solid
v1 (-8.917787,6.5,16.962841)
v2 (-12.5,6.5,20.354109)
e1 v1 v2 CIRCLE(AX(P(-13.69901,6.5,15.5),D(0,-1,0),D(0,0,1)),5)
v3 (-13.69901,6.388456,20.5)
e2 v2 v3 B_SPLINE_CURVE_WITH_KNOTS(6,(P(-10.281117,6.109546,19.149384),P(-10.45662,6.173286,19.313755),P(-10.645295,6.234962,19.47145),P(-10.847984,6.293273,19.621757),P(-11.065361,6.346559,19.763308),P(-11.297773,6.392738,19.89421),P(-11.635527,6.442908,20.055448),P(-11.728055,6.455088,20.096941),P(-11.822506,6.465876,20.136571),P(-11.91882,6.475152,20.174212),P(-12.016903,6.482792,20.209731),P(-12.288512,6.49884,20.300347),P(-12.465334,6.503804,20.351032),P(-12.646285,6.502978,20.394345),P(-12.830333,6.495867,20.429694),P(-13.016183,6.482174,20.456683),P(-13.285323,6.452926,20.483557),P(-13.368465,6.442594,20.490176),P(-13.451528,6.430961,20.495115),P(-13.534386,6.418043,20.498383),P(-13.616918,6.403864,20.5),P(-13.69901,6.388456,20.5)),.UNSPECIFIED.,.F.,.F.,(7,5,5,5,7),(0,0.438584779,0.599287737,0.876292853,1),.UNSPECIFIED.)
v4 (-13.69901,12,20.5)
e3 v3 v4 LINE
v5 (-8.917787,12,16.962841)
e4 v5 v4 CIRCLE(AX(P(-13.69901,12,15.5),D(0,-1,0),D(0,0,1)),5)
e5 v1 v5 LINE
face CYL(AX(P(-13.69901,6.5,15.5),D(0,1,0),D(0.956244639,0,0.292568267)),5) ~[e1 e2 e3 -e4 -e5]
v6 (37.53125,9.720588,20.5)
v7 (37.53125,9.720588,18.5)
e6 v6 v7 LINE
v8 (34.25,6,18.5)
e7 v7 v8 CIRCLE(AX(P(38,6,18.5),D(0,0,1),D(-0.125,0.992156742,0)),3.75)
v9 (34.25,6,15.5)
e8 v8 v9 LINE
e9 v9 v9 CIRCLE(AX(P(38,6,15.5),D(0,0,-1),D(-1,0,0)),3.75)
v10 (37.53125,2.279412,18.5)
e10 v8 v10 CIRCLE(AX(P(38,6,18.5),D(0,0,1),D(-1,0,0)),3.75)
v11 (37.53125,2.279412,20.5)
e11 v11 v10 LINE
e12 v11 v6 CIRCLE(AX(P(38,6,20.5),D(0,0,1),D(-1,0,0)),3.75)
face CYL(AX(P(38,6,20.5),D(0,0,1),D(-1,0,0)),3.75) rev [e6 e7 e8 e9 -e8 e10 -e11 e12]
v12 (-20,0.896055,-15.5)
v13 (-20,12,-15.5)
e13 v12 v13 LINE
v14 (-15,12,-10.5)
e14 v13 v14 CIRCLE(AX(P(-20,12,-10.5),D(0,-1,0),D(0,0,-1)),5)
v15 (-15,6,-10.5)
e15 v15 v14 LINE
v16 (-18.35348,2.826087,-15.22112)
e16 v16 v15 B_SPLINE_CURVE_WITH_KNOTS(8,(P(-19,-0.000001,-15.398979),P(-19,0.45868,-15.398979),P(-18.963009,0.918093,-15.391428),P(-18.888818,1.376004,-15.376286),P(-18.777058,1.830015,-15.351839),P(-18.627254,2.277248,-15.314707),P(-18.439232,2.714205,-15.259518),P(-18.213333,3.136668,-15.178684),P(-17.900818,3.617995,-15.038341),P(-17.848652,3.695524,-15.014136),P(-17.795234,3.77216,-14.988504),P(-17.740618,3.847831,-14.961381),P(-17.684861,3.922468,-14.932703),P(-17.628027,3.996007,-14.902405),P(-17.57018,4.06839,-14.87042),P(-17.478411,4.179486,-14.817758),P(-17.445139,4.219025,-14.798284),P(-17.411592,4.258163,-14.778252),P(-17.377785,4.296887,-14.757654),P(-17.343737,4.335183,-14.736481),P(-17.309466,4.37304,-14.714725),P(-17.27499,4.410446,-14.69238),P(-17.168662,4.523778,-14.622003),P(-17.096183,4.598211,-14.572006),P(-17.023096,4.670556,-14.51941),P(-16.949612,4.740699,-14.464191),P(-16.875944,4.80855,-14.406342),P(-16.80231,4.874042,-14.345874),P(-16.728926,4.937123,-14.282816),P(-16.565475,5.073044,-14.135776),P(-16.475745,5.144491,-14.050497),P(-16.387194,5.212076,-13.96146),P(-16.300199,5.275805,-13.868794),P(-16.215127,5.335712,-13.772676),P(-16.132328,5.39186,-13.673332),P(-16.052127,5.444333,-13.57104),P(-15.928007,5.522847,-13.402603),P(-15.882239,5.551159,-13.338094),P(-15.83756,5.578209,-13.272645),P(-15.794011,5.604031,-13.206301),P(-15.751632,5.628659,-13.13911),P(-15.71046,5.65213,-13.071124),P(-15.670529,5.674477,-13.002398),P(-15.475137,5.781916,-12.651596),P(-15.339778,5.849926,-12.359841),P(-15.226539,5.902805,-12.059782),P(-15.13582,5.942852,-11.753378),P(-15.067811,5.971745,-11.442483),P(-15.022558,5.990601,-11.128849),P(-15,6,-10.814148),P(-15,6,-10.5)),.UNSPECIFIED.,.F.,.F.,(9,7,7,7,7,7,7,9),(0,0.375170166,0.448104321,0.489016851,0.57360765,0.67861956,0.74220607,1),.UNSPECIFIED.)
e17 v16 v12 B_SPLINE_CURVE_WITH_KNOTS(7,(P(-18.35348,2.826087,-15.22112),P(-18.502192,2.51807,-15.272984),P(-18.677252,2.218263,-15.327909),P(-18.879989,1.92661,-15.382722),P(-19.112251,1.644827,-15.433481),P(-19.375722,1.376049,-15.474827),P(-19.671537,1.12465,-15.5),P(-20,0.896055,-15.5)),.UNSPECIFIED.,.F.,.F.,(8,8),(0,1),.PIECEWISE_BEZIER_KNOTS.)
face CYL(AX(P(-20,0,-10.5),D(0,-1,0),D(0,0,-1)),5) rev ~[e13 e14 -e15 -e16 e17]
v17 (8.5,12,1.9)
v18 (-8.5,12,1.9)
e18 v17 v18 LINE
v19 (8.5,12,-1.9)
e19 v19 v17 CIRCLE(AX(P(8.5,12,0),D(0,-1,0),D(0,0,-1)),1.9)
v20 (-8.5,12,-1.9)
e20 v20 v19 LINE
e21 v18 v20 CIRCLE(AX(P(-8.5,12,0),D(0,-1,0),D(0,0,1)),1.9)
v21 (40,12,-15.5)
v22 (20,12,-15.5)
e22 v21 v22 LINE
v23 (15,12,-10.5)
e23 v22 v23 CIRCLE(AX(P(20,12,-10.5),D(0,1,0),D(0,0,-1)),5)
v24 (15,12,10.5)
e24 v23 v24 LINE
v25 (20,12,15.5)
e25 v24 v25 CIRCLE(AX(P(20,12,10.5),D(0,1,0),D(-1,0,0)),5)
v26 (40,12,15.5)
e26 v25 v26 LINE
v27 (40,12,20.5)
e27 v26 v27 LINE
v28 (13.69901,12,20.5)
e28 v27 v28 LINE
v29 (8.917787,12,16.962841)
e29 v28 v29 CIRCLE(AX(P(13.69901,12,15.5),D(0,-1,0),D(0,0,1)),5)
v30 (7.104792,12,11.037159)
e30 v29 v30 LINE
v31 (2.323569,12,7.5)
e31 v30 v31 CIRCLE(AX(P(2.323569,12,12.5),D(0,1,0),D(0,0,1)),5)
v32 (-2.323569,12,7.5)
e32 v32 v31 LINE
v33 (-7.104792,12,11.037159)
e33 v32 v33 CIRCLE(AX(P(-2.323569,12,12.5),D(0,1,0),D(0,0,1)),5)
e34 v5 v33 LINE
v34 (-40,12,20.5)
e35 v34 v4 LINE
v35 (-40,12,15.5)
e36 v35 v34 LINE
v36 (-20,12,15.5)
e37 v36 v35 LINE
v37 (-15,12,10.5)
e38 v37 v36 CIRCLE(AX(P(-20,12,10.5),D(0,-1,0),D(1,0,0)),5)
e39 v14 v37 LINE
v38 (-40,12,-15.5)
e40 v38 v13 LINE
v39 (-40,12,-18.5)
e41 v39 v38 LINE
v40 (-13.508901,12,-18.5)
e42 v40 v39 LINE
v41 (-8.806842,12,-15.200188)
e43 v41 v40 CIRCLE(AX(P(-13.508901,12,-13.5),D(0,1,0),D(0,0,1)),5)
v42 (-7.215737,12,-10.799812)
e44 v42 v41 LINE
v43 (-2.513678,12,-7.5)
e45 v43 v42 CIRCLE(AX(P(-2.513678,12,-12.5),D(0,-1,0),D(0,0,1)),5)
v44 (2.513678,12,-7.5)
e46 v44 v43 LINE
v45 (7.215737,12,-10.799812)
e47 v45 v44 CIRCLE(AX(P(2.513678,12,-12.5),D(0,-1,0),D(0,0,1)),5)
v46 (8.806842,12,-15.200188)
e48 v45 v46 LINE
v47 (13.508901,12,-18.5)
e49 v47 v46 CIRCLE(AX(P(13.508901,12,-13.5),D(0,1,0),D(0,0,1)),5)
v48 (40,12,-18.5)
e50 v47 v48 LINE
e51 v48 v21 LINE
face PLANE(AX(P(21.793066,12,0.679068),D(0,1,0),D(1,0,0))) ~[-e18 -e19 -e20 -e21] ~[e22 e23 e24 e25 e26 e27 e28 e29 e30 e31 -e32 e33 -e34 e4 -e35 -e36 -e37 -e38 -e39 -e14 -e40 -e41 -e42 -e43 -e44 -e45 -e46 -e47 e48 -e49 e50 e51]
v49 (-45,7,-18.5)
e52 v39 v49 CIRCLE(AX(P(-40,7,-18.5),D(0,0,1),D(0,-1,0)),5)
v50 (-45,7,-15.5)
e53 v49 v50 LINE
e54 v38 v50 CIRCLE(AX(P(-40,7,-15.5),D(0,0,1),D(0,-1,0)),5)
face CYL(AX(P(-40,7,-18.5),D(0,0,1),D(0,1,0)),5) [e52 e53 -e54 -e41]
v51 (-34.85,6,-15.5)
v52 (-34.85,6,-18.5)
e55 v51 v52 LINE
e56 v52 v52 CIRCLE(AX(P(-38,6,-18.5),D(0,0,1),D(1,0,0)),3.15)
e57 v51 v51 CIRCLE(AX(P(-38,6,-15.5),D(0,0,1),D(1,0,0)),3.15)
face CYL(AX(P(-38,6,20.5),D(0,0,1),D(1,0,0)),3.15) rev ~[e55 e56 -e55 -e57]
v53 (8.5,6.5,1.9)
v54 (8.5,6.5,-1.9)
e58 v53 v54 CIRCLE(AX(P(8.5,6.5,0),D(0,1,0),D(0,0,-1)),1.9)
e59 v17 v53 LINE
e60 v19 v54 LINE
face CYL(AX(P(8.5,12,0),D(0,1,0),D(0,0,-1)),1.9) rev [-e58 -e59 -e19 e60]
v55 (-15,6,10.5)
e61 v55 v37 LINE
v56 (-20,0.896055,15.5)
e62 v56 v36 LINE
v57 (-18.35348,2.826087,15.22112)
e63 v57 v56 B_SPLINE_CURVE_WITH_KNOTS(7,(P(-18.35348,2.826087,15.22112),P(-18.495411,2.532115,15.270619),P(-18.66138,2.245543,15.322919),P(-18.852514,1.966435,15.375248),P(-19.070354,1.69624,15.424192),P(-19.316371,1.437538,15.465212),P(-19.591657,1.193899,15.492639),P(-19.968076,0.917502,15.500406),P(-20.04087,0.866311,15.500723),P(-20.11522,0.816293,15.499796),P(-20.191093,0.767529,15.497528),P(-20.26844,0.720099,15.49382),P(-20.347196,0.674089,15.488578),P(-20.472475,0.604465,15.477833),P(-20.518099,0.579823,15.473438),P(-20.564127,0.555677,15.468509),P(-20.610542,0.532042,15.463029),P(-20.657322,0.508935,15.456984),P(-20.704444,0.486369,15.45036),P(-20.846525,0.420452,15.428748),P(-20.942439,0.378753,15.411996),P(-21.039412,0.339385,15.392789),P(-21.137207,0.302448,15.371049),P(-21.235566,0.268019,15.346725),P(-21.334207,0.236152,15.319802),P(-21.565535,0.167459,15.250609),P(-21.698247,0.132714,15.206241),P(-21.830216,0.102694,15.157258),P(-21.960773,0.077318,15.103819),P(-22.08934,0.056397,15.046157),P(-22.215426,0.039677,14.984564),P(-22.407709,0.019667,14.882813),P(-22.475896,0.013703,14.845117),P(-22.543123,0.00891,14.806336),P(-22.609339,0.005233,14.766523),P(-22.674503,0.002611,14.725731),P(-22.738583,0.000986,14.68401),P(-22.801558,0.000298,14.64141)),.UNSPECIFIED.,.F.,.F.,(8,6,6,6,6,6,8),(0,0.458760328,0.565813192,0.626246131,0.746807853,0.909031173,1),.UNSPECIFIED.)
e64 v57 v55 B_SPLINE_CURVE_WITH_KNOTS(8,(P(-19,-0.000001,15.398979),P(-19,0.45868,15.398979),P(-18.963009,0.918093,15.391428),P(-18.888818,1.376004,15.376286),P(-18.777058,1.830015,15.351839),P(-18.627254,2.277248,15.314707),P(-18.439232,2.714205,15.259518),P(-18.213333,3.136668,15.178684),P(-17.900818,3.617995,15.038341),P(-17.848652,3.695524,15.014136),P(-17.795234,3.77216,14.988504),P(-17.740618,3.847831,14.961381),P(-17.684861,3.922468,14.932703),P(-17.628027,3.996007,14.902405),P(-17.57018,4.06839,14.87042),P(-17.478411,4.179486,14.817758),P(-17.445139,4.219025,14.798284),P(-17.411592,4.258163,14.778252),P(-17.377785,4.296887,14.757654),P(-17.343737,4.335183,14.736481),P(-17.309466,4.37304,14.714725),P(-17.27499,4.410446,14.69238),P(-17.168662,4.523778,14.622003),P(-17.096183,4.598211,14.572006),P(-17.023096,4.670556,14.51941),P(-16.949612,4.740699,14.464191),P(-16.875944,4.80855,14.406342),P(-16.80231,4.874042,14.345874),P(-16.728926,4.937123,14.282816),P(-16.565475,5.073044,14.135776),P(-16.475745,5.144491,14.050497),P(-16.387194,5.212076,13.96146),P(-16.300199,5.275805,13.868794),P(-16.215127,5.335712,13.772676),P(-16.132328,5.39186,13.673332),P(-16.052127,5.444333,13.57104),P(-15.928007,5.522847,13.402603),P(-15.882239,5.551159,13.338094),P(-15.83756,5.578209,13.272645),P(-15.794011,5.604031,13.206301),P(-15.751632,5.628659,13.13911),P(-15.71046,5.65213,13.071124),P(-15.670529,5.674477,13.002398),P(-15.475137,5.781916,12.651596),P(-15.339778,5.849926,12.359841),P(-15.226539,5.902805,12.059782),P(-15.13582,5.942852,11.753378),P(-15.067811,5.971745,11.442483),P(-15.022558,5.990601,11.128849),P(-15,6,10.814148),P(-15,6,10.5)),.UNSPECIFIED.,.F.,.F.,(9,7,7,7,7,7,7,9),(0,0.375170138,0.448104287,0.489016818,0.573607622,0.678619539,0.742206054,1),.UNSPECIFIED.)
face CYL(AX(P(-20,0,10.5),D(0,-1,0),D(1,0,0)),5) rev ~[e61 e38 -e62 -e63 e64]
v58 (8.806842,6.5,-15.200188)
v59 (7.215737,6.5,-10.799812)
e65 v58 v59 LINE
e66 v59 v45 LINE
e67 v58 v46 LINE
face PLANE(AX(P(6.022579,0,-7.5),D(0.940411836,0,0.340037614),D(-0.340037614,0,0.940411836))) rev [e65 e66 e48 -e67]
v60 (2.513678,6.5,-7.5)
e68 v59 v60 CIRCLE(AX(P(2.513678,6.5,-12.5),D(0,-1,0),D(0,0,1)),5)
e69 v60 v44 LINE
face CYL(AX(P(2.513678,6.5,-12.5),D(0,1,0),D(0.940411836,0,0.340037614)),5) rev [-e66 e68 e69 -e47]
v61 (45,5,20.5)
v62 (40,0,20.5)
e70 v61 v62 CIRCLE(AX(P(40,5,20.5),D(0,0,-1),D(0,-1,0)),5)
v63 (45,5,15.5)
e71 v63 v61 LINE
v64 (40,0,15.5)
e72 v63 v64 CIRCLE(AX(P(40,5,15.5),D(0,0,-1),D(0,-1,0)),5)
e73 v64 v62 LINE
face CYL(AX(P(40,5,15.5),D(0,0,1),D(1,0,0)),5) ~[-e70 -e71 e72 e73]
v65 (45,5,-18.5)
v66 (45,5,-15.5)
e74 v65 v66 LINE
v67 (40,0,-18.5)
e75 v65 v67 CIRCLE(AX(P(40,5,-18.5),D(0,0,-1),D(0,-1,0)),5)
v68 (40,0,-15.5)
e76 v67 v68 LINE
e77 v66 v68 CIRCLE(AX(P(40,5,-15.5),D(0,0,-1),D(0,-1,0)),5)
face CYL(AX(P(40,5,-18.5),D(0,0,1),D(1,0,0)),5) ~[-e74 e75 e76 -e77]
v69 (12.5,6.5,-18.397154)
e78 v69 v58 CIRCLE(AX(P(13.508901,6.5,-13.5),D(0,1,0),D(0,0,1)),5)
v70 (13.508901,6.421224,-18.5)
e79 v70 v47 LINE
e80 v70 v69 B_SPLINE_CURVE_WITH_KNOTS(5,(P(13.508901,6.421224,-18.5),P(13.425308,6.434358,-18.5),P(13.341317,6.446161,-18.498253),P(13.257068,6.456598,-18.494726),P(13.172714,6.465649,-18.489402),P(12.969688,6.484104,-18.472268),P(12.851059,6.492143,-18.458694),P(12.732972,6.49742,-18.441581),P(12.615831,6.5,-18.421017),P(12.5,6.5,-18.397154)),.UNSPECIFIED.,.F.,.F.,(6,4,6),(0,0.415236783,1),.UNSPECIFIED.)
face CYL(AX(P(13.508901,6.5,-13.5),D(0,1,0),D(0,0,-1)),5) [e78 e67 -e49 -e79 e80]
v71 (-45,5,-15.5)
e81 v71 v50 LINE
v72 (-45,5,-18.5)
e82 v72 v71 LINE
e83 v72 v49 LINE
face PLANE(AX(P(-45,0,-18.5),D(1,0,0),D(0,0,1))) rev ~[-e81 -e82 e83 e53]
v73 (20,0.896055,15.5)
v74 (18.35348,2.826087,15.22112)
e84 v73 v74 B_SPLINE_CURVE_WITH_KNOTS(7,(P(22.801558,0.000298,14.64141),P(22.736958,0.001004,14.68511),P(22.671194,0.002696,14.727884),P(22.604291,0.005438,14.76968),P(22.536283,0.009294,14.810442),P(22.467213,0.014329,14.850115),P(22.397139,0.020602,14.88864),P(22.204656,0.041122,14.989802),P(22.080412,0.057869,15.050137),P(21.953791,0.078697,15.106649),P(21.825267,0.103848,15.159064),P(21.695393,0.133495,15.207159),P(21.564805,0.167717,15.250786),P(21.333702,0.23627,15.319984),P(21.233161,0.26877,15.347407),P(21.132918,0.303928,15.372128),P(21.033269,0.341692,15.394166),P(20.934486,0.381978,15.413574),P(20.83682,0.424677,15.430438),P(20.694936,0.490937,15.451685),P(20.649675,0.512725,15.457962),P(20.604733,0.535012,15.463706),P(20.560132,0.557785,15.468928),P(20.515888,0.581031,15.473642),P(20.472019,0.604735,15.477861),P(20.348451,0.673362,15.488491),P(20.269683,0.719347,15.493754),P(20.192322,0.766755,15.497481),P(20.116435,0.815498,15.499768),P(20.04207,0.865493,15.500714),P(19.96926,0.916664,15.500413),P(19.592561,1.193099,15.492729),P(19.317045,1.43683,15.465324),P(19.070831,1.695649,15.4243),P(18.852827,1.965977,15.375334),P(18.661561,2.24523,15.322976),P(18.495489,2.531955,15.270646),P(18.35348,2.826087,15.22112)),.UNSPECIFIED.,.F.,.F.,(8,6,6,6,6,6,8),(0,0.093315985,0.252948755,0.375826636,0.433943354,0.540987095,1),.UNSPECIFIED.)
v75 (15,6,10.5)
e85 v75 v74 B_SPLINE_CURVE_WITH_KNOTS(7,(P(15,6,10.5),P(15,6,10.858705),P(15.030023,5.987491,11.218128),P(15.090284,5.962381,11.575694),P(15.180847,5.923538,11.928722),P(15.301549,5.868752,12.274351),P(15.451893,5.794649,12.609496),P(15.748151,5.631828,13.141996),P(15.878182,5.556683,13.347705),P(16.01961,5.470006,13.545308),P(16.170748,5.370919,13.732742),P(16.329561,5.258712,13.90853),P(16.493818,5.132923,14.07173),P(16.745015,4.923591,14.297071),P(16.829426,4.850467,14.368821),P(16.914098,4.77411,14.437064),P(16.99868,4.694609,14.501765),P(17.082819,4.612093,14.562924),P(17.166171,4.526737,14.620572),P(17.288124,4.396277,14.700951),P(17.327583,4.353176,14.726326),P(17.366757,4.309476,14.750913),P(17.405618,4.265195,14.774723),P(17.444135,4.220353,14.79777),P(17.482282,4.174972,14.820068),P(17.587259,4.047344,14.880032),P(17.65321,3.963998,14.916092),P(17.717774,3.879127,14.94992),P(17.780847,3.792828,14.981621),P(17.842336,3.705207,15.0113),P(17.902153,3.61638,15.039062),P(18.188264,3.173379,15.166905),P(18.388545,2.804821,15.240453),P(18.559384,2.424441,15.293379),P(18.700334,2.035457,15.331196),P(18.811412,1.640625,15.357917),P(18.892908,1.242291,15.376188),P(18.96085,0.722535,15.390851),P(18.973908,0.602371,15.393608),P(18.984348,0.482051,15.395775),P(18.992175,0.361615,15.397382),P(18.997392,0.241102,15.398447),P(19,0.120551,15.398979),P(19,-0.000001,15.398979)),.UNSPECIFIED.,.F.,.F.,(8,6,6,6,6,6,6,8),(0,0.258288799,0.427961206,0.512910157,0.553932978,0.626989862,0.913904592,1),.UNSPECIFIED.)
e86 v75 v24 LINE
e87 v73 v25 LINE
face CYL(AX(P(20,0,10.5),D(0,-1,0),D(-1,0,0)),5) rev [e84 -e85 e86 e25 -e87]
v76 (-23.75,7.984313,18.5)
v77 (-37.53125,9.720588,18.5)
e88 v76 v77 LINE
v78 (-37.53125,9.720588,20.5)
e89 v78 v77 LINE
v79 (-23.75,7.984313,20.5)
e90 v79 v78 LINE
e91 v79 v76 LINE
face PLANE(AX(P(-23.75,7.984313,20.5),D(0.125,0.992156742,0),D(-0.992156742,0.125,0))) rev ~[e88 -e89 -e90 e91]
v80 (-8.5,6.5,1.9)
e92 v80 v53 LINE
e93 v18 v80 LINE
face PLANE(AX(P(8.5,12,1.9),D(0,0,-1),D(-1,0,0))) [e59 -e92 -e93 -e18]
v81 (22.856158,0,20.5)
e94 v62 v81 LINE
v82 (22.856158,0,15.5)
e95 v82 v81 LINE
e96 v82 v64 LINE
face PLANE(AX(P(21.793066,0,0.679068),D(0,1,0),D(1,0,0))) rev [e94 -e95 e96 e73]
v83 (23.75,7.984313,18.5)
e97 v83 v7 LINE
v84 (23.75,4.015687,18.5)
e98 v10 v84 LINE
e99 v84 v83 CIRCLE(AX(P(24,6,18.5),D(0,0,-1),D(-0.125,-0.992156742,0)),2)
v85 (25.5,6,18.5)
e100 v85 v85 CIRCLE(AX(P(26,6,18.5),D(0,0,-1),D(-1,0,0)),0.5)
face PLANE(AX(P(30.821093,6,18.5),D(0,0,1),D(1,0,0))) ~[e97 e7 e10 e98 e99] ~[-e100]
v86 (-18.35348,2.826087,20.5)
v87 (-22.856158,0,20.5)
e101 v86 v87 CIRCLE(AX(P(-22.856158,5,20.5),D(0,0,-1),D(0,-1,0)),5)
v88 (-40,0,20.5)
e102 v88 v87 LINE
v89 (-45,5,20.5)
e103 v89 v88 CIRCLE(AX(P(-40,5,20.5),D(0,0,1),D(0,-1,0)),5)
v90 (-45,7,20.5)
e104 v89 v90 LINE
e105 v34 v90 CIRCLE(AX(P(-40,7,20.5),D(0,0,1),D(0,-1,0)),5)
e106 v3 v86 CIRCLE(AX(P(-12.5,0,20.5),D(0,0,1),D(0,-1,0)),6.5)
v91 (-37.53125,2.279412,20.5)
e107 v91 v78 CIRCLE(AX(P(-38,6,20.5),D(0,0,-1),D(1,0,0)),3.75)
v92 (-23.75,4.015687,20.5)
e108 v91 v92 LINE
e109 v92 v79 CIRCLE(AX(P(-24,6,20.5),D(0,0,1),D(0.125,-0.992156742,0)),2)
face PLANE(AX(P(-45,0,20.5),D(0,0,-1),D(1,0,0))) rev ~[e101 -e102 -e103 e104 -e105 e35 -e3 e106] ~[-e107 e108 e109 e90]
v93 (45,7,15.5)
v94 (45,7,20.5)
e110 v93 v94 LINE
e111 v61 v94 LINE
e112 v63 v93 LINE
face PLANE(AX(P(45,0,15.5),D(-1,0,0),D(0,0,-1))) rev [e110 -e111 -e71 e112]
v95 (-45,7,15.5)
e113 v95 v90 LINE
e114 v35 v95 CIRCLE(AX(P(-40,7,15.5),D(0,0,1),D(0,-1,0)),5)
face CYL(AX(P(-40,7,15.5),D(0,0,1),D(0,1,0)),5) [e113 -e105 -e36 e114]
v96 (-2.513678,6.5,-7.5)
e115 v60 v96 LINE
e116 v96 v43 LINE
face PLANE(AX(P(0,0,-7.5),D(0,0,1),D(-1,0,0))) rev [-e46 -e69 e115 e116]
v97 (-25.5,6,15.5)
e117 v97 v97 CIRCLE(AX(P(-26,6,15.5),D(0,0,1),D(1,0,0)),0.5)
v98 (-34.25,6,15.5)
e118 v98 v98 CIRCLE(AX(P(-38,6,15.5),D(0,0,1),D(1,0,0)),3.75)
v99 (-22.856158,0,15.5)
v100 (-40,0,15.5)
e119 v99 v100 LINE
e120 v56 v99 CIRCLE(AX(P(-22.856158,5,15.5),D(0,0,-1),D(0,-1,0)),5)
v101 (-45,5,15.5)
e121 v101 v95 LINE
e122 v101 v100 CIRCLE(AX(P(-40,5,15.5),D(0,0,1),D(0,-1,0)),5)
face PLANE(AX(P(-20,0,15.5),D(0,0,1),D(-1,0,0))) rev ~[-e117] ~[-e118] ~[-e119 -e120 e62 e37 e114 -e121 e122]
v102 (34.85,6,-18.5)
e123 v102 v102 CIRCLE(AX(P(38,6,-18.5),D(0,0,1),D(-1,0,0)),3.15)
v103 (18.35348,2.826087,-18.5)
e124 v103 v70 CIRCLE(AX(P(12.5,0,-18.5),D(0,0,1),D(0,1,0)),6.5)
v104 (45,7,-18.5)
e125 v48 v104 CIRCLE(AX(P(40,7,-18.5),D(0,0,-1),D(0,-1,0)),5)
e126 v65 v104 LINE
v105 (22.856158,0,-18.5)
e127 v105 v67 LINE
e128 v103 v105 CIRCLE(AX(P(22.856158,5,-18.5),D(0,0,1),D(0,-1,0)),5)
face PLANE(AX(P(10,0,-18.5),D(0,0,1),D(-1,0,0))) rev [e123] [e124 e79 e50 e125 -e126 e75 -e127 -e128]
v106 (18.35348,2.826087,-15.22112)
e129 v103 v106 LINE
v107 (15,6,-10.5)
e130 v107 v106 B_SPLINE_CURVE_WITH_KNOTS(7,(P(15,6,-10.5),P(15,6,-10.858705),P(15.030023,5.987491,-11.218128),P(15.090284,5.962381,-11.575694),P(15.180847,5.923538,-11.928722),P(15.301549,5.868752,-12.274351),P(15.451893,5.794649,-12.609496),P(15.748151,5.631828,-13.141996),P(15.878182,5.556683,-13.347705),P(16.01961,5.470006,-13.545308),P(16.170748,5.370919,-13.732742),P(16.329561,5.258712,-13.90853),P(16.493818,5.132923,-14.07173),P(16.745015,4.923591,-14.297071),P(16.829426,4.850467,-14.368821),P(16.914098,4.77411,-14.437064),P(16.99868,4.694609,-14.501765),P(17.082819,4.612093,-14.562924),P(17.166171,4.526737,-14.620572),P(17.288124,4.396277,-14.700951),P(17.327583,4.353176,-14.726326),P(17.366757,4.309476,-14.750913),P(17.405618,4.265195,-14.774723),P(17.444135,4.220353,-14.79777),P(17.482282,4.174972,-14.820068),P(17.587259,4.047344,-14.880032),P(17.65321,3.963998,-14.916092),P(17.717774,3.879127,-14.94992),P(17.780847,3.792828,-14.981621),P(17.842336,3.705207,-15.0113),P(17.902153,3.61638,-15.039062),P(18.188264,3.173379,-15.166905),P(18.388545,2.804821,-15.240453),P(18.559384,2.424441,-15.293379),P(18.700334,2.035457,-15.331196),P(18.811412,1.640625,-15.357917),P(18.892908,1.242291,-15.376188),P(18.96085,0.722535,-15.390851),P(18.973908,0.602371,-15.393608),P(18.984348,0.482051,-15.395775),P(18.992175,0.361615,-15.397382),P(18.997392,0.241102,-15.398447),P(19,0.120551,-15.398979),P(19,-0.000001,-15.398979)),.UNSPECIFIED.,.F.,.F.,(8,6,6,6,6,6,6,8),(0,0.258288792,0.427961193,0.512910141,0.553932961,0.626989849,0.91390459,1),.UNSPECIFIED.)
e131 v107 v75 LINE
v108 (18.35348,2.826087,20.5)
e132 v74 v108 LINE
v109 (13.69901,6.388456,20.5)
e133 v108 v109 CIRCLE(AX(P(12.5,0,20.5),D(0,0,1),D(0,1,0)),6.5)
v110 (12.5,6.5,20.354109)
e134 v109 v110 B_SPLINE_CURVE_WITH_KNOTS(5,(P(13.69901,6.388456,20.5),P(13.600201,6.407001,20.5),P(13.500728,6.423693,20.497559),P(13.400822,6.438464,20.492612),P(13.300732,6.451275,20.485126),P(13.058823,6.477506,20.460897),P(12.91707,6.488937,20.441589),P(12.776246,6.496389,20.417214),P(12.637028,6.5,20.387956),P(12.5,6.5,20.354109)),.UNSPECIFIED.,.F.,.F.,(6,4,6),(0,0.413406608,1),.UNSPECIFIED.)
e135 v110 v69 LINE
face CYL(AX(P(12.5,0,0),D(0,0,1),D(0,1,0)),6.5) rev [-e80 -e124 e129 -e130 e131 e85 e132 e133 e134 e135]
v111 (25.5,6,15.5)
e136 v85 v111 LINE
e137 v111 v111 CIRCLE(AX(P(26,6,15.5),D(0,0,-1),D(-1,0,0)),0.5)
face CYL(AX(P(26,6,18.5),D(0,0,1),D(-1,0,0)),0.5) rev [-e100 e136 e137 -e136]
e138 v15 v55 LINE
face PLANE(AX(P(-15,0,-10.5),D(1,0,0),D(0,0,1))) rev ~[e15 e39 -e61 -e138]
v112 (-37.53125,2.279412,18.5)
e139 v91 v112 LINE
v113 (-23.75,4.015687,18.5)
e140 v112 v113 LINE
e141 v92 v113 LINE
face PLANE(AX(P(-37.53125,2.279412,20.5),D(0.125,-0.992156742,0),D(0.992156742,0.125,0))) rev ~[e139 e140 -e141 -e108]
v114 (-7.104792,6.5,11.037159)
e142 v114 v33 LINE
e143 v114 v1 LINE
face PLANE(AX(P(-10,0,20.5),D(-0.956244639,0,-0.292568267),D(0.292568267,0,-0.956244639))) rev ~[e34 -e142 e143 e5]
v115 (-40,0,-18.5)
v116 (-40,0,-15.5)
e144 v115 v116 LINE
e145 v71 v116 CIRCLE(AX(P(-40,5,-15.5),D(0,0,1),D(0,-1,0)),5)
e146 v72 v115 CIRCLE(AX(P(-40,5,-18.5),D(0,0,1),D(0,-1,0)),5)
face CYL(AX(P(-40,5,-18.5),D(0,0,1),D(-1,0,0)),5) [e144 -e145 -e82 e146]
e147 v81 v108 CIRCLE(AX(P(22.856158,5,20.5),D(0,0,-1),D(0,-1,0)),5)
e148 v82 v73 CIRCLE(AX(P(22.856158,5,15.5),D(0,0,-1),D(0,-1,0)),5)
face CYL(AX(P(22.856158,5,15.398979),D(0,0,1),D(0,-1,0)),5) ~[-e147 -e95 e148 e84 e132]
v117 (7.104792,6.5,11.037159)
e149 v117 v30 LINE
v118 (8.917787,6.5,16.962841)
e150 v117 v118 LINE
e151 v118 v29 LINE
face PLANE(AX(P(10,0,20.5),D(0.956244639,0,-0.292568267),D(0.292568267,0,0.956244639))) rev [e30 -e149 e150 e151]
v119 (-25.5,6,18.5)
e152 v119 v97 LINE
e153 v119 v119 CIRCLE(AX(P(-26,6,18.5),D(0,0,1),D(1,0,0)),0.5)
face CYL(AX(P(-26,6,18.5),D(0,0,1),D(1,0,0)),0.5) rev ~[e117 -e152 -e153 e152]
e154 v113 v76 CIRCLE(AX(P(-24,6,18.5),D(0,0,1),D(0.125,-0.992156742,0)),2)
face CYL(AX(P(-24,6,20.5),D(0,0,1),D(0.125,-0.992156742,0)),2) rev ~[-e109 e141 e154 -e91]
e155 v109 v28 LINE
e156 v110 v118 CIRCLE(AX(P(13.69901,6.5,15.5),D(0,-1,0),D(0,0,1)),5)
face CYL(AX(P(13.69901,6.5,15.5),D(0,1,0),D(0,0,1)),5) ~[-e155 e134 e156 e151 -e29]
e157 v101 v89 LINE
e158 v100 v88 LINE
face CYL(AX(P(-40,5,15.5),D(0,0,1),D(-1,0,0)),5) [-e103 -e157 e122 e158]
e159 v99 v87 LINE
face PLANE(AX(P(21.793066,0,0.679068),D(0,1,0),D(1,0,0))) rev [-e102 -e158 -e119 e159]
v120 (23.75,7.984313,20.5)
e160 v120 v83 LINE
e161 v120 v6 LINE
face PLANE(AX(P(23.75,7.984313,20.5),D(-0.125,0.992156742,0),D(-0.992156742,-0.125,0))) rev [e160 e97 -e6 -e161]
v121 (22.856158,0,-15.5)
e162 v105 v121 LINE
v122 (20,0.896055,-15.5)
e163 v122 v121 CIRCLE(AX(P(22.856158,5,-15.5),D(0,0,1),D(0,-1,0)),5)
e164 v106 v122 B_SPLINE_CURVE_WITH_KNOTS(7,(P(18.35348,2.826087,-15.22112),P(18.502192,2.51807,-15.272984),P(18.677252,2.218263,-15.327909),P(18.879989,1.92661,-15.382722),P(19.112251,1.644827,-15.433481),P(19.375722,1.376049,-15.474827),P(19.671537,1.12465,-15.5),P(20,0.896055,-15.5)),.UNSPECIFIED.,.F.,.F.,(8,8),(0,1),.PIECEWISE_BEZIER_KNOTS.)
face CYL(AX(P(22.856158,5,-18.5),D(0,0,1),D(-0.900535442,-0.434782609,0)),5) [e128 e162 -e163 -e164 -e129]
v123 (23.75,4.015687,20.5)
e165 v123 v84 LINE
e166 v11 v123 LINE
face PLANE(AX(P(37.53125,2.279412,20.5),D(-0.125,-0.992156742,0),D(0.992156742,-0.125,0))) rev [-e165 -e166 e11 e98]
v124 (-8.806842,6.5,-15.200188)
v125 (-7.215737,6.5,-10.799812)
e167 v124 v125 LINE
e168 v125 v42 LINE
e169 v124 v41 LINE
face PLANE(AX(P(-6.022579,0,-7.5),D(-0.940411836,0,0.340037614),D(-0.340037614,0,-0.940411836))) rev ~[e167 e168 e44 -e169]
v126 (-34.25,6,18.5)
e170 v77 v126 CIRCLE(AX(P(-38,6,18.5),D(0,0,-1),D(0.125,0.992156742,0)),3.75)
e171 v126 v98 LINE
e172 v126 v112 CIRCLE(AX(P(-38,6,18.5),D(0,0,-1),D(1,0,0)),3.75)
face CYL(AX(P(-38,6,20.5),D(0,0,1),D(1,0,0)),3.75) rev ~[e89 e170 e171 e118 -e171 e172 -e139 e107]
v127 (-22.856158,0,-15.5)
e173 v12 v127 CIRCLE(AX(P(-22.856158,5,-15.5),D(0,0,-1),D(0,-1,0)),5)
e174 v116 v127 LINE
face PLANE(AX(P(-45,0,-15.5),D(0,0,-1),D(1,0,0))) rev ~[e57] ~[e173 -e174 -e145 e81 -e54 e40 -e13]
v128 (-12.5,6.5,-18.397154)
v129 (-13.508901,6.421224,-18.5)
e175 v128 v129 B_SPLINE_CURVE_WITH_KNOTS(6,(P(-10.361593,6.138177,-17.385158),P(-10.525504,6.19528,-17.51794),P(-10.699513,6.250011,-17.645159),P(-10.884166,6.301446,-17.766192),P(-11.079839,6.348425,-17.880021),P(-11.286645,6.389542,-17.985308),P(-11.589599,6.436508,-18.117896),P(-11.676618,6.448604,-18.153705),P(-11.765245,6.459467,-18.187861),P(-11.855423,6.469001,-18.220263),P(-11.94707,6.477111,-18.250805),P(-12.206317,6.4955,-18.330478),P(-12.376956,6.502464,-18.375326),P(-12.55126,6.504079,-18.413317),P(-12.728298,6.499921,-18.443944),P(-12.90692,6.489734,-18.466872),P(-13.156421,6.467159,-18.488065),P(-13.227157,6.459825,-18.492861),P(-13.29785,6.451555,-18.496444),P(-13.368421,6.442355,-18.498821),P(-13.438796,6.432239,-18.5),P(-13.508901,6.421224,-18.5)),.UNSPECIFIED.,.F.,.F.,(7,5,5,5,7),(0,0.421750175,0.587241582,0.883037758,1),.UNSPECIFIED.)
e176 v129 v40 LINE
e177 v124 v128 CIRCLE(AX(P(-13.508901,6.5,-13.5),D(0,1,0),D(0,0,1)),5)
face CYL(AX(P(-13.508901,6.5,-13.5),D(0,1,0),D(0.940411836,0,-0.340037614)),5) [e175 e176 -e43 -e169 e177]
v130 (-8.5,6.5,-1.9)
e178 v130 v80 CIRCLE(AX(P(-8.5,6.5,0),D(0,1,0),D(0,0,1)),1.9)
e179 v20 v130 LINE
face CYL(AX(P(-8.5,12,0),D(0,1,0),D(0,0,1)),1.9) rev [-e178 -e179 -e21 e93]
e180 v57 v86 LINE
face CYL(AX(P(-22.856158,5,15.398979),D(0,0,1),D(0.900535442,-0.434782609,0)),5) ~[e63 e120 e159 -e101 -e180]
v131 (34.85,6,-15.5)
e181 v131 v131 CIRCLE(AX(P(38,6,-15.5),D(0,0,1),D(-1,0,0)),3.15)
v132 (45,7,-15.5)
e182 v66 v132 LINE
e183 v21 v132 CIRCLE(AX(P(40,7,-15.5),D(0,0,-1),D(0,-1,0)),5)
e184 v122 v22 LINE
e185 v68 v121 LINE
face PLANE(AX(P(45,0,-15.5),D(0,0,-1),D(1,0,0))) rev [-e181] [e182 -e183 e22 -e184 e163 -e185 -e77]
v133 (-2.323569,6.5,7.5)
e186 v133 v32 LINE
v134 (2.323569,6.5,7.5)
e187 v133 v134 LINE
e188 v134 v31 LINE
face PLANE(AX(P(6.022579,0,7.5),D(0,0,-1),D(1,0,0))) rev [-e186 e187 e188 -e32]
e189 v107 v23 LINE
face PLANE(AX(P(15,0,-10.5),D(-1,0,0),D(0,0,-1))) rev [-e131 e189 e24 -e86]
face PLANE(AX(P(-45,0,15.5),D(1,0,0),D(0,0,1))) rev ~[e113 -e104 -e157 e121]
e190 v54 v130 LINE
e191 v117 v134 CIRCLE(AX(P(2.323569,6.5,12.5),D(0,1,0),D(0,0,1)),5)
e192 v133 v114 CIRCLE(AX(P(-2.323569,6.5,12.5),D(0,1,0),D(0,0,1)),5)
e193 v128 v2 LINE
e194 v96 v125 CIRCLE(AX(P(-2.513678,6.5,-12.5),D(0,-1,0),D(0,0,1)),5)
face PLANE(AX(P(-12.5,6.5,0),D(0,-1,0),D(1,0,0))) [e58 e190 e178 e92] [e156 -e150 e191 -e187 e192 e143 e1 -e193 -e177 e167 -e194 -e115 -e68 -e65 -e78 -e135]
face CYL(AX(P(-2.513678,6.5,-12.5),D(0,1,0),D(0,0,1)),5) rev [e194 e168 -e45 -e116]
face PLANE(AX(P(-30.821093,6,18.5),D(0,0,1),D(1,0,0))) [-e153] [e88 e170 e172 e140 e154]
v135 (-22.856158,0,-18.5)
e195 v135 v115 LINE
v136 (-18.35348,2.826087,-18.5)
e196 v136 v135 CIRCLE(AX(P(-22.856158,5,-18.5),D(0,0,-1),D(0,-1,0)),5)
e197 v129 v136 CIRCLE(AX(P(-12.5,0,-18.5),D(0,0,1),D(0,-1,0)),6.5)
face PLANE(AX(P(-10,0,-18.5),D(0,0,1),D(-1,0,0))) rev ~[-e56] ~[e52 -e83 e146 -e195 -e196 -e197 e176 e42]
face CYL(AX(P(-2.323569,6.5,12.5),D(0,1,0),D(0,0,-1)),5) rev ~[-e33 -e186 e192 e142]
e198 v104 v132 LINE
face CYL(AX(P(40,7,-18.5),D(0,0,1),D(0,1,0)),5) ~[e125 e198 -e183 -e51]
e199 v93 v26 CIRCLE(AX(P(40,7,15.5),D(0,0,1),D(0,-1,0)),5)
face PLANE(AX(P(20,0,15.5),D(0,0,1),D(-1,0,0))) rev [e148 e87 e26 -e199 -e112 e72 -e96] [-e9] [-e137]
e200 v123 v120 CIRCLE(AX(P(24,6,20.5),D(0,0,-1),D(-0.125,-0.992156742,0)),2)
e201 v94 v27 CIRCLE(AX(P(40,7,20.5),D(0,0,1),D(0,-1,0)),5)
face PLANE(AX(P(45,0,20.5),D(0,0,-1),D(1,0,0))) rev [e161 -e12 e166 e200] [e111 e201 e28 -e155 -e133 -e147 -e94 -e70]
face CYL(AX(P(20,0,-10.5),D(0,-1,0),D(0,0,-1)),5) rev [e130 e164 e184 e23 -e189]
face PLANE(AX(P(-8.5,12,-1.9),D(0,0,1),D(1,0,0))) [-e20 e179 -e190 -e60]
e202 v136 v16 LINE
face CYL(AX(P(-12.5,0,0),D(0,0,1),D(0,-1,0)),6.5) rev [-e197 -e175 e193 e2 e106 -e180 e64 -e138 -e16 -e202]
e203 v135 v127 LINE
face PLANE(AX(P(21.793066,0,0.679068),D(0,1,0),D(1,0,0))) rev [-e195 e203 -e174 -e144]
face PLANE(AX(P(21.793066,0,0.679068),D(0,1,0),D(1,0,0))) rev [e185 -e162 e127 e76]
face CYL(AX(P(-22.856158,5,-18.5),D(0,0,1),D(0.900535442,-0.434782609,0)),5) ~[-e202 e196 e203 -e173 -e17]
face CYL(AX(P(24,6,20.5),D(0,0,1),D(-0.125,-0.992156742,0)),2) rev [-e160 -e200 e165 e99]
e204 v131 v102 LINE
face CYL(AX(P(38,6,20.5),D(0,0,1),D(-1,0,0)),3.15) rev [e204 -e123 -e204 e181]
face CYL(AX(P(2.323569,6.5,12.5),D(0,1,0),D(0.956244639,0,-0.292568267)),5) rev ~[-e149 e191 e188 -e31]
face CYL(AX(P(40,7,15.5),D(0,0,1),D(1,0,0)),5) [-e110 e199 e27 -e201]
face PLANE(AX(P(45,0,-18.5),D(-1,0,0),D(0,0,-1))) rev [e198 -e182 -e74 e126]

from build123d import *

# Parameters (mm, degrees)
Y_KSEKLIK_EKSTR_ZYON1_DEPTH = 12
IZIM3_R                     = 3.15
KES_EKSTR_ZYON1_DEPTH       = 61.745370194
KES_EKSTR_ZYON2_DEPTH       = 2
KES_EKSTR_ZYON5_REACH       = 62.745
IZIM8_R                     = 3.75
KES_EKSTR_ZYON3_REACH       = 61.481
IZIM6_R                     = 0.5
KES_EKSTR_ZYON4_DEPTH       = 21
RADYUS1_R                   = 5
FILLET1_R                   = 5
CUT_EXTRUDE2_DEPTH          = 10


with BuildPart() as part:
    # Çizim2 → Yükseklik-Ekstrüzyon1 (new body)
    with BuildSketch(Plane(origin=(0, 0, 0), x_dir=(1, 0, 0), z_dir=(0, 1, 0))):
        with BuildLine():
            Line((-45, -15.5), (-45, -20.5))
            Line((-45, -20.5), (-10, -20.5))
            Line((-10, -20.5), (-6.022579038, -7.5))
            Line((-6.022579038, -7.5), (0, -7.5))
            Line((0, -7.5), (0, 7.5))
            Line((0, 7.5), (-6.022579038, 7.5))
            Line((-6.022579038, 7.5), (-10, 18.5))
            Line((-10, 18.5), (-45, 18.5))
            Line((-45, 18.5), (-45, 15.5))
            Line((-45, 15.5), (-20, 15.5))
            ThreePointArc((-20, 15.5), (-16.464466094, 14.035533906), (-15, 10.5))
            Line((-15, 10.5), (-15, -10.5))
            ThreePointArc((-15, -10.5), (-16.464466094, -14.035533906), (-20, -15.5))
            Line((-20, -15.5), (-45, -15.5))
        make_face()
    y_kseklik_ekstr_zyon1 = extrude(amount=Y_KSEKLIK_EKSTR_ZYON1_DEPTH)

    # Çizim3 → Kes-Ekstrüzyon1 (cut, through all)
    with BuildSketch(Plane.XY.offset(20.5)):
        with Locations((-38, 6)):
            Circle(IZIM3_R)
    kes_ekstr_zyon1 = extrude(amount=-KES_EKSTR_ZYON1_DEPTH, mode=Mode.SUBTRACT)

    # Çizim5 → Kes-Ekstrüzyon2 (cut)
    with BuildSketch(Plane.XY.offset(20.5)):
        with BuildLine():
            ThreePointArc((-34.25, 6), (-35.1875, 3.519608146), (-37.53125, 2.279412219))
            Line((-37.53125, 2.279412219), (-23.75, 4.015686517))
            ThreePointArc((-23.75, 4.015686517), (-22, 6), (-23.75, 7.984313483))
            Line((-23.75, 7.984313483), (-37.53125, 9.720587781))
            ThreePointArc((-37.53125, 9.720587781), (-35.1875, 8.480391854), (-34.25, 6))
        make_face()
    kes_ekstr_zyon2 = extrude(amount=-KES_EKSTR_ZYON2_DEPTH, mode=Mode.SUBTRACT)

    # Çizim8 → Kes-Ekstrüzyon5 (cut, up to next)
    with BuildSketch(Plane.XY.offset(20.5), mode=Mode.PRIVATE) as kes_ekstr_zyon5_sk1:
        with Locations((-38, 6)):
            Circle(IZIM8_R)
    kes_ekstr_zyon5_tool1 = extrude(kes_ekstr_zyon5_sk1.sketch, amount=-KES_EKSTR_ZYON5_REACH, mode=Mode.PRIVATE) & part.part
    kes_ekstr_zyon5 = kes_ekstr_zyon5_tool1.solids().sort_by_distance((-38, 6, 20.5))[0]
    add(kes_ekstr_zyon5, mode=Mode.SUBTRACT)

    # Çizim6 → Kes-Ekstrüzyon3 (cut, up to next)
    with BuildSketch(Plane.XY.offset(18.5), mode=Mode.PRIVATE) as kes_ekstr_zyon3_sk1:
        with Locations((-26, 6)):
            Circle(IZIM6_R)
    kes_ekstr_zyon3_tool1 = extrude(kes_ekstr_zyon3_sk1.sketch, amount=-KES_EKSTR_ZYON3_REACH, mode=Mode.PRIVATE) & part.part
    kes_ekstr_zyon3 = kes_ekstr_zyon3_tool1.solids().sort_by_distance((-26, 6, 18.5))[0]
    add(kes_ekstr_zyon3, mode=Mode.SUBTRACT)

    # Aynalama1: Yükseklik-Ekstrüzyon1, Kes-Ekstrüzyon1, Kes-Ekstrüzyon2, Kes-Ekstrüzyon5, Kes-Ekstrüzyon3 across plane
    add(y_kseklik_ekstr_zyon1.mirror(Plane(origin=(0, 12, -7.5), x_dir=(0, 0, 1), z_dir=(-1, 0, 0))))
    add(kes_ekstr_zyon1.mirror(Plane(origin=(0, 12, -7.5), x_dir=(0, 0, 1), z_dir=(-1, 0, 0))), mode=Mode.SUBTRACT)
    add(kes_ekstr_zyon2.mirror(Plane(origin=(0, 12, -7.5), x_dir=(0, 0, 1), z_dir=(-1, 0, 0))), mode=Mode.SUBTRACT)
    add(kes_ekstr_zyon5.mirror(Plane(origin=(0, 12, -7.5), x_dir=(0, 0, 1), z_dir=(-1, 0, 0))), mode=Mode.SUBTRACT)
    add(kes_ekstr_zyon3.mirror(Plane(origin=(0, 12, -7.5), x_dir=(0, 0, 1), z_dir=(-1, 0, 0))), mode=Mode.SUBTRACT)

    # Çizim7 → Kes-Ekstrüzyon4 (cut, symmetric)
    with BuildSketch(Plane.XY):
        with BuildLine():
            Line((-12.5, 6.5), (12.5, 6.5))
            ThreePointArc((12.5, 6.5), (19, 0), (12.5, -6.5))
            Line((12.5, -6.5), (-12.5, -6.5))
            ThreePointArc((-12.5, -6.5), (-19, 0), (-12.5, 6.5))
        make_face()
    extrude(amount=KES_EKSTR_ZYON4_DEPTH, both=True, mode=Mode.SUBTRACT)

    # Radyus1
    radyus1_edges = [part.edges().sort_by_distance(p)[0] for p in [
        (-45, 0, -17),
        (-19, 0, 17.949489743),
        (-19, 0, -16.949489743),
        (19, 0, 17.949489743),
        (19, 0, -16.949489743),
        (-45, 0, 18),
        (-45, 12, -17),
        (-45, 12, 18),
        (45, 12, -17),
        (45, 12, 18),
        (45, 0, 18),
        (45, 0, -17),
    ]]
    fillet(radyus1_edges, radius=RADYUS1_R)

    # Fillet1
    fillet1_edges = [part.edges().sort_by_distance(p)[0] for p in [
        (10, 9.25, 20.5),
        (6.022579038, 9.25, 7.5),
        (-10, 9.25, 20.5),
        (-6.022579038, 9.25, 7.5),
        (10, 9.25, -18.5),
        (6.022579038, 9.25, -7.5),
        (-10, 9.25, -18.5),
        (-6.022579038, 9.25, -7.5),
    ]]
    fillet(fillet1_edges, radius=FILLET1_R)

    # Sketch2 → Cut-Extrude2 (cut)
    with BuildSketch(Plane(origin=(0, 12, 0), x_dir=(1, 0, 0), z_dir=(0, 1, 0))):
        with BuildLine():
            Line((8.5, -1.9), (-8.5, -1.9))
            ThreePointArc((-8.5, -1.9), (-10.4, 0), (-8.5, 1.9))
            Line((-8.5, 1.9), (8.5, 1.9))
            ThreePointArc((8.5, 1.9), (10.4, 0), (8.5, -1.9))
        make_face()
    extrude(amount=-CUT_EXTRUDE2_DEPTH, mode=Mode.SUBTRACT)


solid = part.part
